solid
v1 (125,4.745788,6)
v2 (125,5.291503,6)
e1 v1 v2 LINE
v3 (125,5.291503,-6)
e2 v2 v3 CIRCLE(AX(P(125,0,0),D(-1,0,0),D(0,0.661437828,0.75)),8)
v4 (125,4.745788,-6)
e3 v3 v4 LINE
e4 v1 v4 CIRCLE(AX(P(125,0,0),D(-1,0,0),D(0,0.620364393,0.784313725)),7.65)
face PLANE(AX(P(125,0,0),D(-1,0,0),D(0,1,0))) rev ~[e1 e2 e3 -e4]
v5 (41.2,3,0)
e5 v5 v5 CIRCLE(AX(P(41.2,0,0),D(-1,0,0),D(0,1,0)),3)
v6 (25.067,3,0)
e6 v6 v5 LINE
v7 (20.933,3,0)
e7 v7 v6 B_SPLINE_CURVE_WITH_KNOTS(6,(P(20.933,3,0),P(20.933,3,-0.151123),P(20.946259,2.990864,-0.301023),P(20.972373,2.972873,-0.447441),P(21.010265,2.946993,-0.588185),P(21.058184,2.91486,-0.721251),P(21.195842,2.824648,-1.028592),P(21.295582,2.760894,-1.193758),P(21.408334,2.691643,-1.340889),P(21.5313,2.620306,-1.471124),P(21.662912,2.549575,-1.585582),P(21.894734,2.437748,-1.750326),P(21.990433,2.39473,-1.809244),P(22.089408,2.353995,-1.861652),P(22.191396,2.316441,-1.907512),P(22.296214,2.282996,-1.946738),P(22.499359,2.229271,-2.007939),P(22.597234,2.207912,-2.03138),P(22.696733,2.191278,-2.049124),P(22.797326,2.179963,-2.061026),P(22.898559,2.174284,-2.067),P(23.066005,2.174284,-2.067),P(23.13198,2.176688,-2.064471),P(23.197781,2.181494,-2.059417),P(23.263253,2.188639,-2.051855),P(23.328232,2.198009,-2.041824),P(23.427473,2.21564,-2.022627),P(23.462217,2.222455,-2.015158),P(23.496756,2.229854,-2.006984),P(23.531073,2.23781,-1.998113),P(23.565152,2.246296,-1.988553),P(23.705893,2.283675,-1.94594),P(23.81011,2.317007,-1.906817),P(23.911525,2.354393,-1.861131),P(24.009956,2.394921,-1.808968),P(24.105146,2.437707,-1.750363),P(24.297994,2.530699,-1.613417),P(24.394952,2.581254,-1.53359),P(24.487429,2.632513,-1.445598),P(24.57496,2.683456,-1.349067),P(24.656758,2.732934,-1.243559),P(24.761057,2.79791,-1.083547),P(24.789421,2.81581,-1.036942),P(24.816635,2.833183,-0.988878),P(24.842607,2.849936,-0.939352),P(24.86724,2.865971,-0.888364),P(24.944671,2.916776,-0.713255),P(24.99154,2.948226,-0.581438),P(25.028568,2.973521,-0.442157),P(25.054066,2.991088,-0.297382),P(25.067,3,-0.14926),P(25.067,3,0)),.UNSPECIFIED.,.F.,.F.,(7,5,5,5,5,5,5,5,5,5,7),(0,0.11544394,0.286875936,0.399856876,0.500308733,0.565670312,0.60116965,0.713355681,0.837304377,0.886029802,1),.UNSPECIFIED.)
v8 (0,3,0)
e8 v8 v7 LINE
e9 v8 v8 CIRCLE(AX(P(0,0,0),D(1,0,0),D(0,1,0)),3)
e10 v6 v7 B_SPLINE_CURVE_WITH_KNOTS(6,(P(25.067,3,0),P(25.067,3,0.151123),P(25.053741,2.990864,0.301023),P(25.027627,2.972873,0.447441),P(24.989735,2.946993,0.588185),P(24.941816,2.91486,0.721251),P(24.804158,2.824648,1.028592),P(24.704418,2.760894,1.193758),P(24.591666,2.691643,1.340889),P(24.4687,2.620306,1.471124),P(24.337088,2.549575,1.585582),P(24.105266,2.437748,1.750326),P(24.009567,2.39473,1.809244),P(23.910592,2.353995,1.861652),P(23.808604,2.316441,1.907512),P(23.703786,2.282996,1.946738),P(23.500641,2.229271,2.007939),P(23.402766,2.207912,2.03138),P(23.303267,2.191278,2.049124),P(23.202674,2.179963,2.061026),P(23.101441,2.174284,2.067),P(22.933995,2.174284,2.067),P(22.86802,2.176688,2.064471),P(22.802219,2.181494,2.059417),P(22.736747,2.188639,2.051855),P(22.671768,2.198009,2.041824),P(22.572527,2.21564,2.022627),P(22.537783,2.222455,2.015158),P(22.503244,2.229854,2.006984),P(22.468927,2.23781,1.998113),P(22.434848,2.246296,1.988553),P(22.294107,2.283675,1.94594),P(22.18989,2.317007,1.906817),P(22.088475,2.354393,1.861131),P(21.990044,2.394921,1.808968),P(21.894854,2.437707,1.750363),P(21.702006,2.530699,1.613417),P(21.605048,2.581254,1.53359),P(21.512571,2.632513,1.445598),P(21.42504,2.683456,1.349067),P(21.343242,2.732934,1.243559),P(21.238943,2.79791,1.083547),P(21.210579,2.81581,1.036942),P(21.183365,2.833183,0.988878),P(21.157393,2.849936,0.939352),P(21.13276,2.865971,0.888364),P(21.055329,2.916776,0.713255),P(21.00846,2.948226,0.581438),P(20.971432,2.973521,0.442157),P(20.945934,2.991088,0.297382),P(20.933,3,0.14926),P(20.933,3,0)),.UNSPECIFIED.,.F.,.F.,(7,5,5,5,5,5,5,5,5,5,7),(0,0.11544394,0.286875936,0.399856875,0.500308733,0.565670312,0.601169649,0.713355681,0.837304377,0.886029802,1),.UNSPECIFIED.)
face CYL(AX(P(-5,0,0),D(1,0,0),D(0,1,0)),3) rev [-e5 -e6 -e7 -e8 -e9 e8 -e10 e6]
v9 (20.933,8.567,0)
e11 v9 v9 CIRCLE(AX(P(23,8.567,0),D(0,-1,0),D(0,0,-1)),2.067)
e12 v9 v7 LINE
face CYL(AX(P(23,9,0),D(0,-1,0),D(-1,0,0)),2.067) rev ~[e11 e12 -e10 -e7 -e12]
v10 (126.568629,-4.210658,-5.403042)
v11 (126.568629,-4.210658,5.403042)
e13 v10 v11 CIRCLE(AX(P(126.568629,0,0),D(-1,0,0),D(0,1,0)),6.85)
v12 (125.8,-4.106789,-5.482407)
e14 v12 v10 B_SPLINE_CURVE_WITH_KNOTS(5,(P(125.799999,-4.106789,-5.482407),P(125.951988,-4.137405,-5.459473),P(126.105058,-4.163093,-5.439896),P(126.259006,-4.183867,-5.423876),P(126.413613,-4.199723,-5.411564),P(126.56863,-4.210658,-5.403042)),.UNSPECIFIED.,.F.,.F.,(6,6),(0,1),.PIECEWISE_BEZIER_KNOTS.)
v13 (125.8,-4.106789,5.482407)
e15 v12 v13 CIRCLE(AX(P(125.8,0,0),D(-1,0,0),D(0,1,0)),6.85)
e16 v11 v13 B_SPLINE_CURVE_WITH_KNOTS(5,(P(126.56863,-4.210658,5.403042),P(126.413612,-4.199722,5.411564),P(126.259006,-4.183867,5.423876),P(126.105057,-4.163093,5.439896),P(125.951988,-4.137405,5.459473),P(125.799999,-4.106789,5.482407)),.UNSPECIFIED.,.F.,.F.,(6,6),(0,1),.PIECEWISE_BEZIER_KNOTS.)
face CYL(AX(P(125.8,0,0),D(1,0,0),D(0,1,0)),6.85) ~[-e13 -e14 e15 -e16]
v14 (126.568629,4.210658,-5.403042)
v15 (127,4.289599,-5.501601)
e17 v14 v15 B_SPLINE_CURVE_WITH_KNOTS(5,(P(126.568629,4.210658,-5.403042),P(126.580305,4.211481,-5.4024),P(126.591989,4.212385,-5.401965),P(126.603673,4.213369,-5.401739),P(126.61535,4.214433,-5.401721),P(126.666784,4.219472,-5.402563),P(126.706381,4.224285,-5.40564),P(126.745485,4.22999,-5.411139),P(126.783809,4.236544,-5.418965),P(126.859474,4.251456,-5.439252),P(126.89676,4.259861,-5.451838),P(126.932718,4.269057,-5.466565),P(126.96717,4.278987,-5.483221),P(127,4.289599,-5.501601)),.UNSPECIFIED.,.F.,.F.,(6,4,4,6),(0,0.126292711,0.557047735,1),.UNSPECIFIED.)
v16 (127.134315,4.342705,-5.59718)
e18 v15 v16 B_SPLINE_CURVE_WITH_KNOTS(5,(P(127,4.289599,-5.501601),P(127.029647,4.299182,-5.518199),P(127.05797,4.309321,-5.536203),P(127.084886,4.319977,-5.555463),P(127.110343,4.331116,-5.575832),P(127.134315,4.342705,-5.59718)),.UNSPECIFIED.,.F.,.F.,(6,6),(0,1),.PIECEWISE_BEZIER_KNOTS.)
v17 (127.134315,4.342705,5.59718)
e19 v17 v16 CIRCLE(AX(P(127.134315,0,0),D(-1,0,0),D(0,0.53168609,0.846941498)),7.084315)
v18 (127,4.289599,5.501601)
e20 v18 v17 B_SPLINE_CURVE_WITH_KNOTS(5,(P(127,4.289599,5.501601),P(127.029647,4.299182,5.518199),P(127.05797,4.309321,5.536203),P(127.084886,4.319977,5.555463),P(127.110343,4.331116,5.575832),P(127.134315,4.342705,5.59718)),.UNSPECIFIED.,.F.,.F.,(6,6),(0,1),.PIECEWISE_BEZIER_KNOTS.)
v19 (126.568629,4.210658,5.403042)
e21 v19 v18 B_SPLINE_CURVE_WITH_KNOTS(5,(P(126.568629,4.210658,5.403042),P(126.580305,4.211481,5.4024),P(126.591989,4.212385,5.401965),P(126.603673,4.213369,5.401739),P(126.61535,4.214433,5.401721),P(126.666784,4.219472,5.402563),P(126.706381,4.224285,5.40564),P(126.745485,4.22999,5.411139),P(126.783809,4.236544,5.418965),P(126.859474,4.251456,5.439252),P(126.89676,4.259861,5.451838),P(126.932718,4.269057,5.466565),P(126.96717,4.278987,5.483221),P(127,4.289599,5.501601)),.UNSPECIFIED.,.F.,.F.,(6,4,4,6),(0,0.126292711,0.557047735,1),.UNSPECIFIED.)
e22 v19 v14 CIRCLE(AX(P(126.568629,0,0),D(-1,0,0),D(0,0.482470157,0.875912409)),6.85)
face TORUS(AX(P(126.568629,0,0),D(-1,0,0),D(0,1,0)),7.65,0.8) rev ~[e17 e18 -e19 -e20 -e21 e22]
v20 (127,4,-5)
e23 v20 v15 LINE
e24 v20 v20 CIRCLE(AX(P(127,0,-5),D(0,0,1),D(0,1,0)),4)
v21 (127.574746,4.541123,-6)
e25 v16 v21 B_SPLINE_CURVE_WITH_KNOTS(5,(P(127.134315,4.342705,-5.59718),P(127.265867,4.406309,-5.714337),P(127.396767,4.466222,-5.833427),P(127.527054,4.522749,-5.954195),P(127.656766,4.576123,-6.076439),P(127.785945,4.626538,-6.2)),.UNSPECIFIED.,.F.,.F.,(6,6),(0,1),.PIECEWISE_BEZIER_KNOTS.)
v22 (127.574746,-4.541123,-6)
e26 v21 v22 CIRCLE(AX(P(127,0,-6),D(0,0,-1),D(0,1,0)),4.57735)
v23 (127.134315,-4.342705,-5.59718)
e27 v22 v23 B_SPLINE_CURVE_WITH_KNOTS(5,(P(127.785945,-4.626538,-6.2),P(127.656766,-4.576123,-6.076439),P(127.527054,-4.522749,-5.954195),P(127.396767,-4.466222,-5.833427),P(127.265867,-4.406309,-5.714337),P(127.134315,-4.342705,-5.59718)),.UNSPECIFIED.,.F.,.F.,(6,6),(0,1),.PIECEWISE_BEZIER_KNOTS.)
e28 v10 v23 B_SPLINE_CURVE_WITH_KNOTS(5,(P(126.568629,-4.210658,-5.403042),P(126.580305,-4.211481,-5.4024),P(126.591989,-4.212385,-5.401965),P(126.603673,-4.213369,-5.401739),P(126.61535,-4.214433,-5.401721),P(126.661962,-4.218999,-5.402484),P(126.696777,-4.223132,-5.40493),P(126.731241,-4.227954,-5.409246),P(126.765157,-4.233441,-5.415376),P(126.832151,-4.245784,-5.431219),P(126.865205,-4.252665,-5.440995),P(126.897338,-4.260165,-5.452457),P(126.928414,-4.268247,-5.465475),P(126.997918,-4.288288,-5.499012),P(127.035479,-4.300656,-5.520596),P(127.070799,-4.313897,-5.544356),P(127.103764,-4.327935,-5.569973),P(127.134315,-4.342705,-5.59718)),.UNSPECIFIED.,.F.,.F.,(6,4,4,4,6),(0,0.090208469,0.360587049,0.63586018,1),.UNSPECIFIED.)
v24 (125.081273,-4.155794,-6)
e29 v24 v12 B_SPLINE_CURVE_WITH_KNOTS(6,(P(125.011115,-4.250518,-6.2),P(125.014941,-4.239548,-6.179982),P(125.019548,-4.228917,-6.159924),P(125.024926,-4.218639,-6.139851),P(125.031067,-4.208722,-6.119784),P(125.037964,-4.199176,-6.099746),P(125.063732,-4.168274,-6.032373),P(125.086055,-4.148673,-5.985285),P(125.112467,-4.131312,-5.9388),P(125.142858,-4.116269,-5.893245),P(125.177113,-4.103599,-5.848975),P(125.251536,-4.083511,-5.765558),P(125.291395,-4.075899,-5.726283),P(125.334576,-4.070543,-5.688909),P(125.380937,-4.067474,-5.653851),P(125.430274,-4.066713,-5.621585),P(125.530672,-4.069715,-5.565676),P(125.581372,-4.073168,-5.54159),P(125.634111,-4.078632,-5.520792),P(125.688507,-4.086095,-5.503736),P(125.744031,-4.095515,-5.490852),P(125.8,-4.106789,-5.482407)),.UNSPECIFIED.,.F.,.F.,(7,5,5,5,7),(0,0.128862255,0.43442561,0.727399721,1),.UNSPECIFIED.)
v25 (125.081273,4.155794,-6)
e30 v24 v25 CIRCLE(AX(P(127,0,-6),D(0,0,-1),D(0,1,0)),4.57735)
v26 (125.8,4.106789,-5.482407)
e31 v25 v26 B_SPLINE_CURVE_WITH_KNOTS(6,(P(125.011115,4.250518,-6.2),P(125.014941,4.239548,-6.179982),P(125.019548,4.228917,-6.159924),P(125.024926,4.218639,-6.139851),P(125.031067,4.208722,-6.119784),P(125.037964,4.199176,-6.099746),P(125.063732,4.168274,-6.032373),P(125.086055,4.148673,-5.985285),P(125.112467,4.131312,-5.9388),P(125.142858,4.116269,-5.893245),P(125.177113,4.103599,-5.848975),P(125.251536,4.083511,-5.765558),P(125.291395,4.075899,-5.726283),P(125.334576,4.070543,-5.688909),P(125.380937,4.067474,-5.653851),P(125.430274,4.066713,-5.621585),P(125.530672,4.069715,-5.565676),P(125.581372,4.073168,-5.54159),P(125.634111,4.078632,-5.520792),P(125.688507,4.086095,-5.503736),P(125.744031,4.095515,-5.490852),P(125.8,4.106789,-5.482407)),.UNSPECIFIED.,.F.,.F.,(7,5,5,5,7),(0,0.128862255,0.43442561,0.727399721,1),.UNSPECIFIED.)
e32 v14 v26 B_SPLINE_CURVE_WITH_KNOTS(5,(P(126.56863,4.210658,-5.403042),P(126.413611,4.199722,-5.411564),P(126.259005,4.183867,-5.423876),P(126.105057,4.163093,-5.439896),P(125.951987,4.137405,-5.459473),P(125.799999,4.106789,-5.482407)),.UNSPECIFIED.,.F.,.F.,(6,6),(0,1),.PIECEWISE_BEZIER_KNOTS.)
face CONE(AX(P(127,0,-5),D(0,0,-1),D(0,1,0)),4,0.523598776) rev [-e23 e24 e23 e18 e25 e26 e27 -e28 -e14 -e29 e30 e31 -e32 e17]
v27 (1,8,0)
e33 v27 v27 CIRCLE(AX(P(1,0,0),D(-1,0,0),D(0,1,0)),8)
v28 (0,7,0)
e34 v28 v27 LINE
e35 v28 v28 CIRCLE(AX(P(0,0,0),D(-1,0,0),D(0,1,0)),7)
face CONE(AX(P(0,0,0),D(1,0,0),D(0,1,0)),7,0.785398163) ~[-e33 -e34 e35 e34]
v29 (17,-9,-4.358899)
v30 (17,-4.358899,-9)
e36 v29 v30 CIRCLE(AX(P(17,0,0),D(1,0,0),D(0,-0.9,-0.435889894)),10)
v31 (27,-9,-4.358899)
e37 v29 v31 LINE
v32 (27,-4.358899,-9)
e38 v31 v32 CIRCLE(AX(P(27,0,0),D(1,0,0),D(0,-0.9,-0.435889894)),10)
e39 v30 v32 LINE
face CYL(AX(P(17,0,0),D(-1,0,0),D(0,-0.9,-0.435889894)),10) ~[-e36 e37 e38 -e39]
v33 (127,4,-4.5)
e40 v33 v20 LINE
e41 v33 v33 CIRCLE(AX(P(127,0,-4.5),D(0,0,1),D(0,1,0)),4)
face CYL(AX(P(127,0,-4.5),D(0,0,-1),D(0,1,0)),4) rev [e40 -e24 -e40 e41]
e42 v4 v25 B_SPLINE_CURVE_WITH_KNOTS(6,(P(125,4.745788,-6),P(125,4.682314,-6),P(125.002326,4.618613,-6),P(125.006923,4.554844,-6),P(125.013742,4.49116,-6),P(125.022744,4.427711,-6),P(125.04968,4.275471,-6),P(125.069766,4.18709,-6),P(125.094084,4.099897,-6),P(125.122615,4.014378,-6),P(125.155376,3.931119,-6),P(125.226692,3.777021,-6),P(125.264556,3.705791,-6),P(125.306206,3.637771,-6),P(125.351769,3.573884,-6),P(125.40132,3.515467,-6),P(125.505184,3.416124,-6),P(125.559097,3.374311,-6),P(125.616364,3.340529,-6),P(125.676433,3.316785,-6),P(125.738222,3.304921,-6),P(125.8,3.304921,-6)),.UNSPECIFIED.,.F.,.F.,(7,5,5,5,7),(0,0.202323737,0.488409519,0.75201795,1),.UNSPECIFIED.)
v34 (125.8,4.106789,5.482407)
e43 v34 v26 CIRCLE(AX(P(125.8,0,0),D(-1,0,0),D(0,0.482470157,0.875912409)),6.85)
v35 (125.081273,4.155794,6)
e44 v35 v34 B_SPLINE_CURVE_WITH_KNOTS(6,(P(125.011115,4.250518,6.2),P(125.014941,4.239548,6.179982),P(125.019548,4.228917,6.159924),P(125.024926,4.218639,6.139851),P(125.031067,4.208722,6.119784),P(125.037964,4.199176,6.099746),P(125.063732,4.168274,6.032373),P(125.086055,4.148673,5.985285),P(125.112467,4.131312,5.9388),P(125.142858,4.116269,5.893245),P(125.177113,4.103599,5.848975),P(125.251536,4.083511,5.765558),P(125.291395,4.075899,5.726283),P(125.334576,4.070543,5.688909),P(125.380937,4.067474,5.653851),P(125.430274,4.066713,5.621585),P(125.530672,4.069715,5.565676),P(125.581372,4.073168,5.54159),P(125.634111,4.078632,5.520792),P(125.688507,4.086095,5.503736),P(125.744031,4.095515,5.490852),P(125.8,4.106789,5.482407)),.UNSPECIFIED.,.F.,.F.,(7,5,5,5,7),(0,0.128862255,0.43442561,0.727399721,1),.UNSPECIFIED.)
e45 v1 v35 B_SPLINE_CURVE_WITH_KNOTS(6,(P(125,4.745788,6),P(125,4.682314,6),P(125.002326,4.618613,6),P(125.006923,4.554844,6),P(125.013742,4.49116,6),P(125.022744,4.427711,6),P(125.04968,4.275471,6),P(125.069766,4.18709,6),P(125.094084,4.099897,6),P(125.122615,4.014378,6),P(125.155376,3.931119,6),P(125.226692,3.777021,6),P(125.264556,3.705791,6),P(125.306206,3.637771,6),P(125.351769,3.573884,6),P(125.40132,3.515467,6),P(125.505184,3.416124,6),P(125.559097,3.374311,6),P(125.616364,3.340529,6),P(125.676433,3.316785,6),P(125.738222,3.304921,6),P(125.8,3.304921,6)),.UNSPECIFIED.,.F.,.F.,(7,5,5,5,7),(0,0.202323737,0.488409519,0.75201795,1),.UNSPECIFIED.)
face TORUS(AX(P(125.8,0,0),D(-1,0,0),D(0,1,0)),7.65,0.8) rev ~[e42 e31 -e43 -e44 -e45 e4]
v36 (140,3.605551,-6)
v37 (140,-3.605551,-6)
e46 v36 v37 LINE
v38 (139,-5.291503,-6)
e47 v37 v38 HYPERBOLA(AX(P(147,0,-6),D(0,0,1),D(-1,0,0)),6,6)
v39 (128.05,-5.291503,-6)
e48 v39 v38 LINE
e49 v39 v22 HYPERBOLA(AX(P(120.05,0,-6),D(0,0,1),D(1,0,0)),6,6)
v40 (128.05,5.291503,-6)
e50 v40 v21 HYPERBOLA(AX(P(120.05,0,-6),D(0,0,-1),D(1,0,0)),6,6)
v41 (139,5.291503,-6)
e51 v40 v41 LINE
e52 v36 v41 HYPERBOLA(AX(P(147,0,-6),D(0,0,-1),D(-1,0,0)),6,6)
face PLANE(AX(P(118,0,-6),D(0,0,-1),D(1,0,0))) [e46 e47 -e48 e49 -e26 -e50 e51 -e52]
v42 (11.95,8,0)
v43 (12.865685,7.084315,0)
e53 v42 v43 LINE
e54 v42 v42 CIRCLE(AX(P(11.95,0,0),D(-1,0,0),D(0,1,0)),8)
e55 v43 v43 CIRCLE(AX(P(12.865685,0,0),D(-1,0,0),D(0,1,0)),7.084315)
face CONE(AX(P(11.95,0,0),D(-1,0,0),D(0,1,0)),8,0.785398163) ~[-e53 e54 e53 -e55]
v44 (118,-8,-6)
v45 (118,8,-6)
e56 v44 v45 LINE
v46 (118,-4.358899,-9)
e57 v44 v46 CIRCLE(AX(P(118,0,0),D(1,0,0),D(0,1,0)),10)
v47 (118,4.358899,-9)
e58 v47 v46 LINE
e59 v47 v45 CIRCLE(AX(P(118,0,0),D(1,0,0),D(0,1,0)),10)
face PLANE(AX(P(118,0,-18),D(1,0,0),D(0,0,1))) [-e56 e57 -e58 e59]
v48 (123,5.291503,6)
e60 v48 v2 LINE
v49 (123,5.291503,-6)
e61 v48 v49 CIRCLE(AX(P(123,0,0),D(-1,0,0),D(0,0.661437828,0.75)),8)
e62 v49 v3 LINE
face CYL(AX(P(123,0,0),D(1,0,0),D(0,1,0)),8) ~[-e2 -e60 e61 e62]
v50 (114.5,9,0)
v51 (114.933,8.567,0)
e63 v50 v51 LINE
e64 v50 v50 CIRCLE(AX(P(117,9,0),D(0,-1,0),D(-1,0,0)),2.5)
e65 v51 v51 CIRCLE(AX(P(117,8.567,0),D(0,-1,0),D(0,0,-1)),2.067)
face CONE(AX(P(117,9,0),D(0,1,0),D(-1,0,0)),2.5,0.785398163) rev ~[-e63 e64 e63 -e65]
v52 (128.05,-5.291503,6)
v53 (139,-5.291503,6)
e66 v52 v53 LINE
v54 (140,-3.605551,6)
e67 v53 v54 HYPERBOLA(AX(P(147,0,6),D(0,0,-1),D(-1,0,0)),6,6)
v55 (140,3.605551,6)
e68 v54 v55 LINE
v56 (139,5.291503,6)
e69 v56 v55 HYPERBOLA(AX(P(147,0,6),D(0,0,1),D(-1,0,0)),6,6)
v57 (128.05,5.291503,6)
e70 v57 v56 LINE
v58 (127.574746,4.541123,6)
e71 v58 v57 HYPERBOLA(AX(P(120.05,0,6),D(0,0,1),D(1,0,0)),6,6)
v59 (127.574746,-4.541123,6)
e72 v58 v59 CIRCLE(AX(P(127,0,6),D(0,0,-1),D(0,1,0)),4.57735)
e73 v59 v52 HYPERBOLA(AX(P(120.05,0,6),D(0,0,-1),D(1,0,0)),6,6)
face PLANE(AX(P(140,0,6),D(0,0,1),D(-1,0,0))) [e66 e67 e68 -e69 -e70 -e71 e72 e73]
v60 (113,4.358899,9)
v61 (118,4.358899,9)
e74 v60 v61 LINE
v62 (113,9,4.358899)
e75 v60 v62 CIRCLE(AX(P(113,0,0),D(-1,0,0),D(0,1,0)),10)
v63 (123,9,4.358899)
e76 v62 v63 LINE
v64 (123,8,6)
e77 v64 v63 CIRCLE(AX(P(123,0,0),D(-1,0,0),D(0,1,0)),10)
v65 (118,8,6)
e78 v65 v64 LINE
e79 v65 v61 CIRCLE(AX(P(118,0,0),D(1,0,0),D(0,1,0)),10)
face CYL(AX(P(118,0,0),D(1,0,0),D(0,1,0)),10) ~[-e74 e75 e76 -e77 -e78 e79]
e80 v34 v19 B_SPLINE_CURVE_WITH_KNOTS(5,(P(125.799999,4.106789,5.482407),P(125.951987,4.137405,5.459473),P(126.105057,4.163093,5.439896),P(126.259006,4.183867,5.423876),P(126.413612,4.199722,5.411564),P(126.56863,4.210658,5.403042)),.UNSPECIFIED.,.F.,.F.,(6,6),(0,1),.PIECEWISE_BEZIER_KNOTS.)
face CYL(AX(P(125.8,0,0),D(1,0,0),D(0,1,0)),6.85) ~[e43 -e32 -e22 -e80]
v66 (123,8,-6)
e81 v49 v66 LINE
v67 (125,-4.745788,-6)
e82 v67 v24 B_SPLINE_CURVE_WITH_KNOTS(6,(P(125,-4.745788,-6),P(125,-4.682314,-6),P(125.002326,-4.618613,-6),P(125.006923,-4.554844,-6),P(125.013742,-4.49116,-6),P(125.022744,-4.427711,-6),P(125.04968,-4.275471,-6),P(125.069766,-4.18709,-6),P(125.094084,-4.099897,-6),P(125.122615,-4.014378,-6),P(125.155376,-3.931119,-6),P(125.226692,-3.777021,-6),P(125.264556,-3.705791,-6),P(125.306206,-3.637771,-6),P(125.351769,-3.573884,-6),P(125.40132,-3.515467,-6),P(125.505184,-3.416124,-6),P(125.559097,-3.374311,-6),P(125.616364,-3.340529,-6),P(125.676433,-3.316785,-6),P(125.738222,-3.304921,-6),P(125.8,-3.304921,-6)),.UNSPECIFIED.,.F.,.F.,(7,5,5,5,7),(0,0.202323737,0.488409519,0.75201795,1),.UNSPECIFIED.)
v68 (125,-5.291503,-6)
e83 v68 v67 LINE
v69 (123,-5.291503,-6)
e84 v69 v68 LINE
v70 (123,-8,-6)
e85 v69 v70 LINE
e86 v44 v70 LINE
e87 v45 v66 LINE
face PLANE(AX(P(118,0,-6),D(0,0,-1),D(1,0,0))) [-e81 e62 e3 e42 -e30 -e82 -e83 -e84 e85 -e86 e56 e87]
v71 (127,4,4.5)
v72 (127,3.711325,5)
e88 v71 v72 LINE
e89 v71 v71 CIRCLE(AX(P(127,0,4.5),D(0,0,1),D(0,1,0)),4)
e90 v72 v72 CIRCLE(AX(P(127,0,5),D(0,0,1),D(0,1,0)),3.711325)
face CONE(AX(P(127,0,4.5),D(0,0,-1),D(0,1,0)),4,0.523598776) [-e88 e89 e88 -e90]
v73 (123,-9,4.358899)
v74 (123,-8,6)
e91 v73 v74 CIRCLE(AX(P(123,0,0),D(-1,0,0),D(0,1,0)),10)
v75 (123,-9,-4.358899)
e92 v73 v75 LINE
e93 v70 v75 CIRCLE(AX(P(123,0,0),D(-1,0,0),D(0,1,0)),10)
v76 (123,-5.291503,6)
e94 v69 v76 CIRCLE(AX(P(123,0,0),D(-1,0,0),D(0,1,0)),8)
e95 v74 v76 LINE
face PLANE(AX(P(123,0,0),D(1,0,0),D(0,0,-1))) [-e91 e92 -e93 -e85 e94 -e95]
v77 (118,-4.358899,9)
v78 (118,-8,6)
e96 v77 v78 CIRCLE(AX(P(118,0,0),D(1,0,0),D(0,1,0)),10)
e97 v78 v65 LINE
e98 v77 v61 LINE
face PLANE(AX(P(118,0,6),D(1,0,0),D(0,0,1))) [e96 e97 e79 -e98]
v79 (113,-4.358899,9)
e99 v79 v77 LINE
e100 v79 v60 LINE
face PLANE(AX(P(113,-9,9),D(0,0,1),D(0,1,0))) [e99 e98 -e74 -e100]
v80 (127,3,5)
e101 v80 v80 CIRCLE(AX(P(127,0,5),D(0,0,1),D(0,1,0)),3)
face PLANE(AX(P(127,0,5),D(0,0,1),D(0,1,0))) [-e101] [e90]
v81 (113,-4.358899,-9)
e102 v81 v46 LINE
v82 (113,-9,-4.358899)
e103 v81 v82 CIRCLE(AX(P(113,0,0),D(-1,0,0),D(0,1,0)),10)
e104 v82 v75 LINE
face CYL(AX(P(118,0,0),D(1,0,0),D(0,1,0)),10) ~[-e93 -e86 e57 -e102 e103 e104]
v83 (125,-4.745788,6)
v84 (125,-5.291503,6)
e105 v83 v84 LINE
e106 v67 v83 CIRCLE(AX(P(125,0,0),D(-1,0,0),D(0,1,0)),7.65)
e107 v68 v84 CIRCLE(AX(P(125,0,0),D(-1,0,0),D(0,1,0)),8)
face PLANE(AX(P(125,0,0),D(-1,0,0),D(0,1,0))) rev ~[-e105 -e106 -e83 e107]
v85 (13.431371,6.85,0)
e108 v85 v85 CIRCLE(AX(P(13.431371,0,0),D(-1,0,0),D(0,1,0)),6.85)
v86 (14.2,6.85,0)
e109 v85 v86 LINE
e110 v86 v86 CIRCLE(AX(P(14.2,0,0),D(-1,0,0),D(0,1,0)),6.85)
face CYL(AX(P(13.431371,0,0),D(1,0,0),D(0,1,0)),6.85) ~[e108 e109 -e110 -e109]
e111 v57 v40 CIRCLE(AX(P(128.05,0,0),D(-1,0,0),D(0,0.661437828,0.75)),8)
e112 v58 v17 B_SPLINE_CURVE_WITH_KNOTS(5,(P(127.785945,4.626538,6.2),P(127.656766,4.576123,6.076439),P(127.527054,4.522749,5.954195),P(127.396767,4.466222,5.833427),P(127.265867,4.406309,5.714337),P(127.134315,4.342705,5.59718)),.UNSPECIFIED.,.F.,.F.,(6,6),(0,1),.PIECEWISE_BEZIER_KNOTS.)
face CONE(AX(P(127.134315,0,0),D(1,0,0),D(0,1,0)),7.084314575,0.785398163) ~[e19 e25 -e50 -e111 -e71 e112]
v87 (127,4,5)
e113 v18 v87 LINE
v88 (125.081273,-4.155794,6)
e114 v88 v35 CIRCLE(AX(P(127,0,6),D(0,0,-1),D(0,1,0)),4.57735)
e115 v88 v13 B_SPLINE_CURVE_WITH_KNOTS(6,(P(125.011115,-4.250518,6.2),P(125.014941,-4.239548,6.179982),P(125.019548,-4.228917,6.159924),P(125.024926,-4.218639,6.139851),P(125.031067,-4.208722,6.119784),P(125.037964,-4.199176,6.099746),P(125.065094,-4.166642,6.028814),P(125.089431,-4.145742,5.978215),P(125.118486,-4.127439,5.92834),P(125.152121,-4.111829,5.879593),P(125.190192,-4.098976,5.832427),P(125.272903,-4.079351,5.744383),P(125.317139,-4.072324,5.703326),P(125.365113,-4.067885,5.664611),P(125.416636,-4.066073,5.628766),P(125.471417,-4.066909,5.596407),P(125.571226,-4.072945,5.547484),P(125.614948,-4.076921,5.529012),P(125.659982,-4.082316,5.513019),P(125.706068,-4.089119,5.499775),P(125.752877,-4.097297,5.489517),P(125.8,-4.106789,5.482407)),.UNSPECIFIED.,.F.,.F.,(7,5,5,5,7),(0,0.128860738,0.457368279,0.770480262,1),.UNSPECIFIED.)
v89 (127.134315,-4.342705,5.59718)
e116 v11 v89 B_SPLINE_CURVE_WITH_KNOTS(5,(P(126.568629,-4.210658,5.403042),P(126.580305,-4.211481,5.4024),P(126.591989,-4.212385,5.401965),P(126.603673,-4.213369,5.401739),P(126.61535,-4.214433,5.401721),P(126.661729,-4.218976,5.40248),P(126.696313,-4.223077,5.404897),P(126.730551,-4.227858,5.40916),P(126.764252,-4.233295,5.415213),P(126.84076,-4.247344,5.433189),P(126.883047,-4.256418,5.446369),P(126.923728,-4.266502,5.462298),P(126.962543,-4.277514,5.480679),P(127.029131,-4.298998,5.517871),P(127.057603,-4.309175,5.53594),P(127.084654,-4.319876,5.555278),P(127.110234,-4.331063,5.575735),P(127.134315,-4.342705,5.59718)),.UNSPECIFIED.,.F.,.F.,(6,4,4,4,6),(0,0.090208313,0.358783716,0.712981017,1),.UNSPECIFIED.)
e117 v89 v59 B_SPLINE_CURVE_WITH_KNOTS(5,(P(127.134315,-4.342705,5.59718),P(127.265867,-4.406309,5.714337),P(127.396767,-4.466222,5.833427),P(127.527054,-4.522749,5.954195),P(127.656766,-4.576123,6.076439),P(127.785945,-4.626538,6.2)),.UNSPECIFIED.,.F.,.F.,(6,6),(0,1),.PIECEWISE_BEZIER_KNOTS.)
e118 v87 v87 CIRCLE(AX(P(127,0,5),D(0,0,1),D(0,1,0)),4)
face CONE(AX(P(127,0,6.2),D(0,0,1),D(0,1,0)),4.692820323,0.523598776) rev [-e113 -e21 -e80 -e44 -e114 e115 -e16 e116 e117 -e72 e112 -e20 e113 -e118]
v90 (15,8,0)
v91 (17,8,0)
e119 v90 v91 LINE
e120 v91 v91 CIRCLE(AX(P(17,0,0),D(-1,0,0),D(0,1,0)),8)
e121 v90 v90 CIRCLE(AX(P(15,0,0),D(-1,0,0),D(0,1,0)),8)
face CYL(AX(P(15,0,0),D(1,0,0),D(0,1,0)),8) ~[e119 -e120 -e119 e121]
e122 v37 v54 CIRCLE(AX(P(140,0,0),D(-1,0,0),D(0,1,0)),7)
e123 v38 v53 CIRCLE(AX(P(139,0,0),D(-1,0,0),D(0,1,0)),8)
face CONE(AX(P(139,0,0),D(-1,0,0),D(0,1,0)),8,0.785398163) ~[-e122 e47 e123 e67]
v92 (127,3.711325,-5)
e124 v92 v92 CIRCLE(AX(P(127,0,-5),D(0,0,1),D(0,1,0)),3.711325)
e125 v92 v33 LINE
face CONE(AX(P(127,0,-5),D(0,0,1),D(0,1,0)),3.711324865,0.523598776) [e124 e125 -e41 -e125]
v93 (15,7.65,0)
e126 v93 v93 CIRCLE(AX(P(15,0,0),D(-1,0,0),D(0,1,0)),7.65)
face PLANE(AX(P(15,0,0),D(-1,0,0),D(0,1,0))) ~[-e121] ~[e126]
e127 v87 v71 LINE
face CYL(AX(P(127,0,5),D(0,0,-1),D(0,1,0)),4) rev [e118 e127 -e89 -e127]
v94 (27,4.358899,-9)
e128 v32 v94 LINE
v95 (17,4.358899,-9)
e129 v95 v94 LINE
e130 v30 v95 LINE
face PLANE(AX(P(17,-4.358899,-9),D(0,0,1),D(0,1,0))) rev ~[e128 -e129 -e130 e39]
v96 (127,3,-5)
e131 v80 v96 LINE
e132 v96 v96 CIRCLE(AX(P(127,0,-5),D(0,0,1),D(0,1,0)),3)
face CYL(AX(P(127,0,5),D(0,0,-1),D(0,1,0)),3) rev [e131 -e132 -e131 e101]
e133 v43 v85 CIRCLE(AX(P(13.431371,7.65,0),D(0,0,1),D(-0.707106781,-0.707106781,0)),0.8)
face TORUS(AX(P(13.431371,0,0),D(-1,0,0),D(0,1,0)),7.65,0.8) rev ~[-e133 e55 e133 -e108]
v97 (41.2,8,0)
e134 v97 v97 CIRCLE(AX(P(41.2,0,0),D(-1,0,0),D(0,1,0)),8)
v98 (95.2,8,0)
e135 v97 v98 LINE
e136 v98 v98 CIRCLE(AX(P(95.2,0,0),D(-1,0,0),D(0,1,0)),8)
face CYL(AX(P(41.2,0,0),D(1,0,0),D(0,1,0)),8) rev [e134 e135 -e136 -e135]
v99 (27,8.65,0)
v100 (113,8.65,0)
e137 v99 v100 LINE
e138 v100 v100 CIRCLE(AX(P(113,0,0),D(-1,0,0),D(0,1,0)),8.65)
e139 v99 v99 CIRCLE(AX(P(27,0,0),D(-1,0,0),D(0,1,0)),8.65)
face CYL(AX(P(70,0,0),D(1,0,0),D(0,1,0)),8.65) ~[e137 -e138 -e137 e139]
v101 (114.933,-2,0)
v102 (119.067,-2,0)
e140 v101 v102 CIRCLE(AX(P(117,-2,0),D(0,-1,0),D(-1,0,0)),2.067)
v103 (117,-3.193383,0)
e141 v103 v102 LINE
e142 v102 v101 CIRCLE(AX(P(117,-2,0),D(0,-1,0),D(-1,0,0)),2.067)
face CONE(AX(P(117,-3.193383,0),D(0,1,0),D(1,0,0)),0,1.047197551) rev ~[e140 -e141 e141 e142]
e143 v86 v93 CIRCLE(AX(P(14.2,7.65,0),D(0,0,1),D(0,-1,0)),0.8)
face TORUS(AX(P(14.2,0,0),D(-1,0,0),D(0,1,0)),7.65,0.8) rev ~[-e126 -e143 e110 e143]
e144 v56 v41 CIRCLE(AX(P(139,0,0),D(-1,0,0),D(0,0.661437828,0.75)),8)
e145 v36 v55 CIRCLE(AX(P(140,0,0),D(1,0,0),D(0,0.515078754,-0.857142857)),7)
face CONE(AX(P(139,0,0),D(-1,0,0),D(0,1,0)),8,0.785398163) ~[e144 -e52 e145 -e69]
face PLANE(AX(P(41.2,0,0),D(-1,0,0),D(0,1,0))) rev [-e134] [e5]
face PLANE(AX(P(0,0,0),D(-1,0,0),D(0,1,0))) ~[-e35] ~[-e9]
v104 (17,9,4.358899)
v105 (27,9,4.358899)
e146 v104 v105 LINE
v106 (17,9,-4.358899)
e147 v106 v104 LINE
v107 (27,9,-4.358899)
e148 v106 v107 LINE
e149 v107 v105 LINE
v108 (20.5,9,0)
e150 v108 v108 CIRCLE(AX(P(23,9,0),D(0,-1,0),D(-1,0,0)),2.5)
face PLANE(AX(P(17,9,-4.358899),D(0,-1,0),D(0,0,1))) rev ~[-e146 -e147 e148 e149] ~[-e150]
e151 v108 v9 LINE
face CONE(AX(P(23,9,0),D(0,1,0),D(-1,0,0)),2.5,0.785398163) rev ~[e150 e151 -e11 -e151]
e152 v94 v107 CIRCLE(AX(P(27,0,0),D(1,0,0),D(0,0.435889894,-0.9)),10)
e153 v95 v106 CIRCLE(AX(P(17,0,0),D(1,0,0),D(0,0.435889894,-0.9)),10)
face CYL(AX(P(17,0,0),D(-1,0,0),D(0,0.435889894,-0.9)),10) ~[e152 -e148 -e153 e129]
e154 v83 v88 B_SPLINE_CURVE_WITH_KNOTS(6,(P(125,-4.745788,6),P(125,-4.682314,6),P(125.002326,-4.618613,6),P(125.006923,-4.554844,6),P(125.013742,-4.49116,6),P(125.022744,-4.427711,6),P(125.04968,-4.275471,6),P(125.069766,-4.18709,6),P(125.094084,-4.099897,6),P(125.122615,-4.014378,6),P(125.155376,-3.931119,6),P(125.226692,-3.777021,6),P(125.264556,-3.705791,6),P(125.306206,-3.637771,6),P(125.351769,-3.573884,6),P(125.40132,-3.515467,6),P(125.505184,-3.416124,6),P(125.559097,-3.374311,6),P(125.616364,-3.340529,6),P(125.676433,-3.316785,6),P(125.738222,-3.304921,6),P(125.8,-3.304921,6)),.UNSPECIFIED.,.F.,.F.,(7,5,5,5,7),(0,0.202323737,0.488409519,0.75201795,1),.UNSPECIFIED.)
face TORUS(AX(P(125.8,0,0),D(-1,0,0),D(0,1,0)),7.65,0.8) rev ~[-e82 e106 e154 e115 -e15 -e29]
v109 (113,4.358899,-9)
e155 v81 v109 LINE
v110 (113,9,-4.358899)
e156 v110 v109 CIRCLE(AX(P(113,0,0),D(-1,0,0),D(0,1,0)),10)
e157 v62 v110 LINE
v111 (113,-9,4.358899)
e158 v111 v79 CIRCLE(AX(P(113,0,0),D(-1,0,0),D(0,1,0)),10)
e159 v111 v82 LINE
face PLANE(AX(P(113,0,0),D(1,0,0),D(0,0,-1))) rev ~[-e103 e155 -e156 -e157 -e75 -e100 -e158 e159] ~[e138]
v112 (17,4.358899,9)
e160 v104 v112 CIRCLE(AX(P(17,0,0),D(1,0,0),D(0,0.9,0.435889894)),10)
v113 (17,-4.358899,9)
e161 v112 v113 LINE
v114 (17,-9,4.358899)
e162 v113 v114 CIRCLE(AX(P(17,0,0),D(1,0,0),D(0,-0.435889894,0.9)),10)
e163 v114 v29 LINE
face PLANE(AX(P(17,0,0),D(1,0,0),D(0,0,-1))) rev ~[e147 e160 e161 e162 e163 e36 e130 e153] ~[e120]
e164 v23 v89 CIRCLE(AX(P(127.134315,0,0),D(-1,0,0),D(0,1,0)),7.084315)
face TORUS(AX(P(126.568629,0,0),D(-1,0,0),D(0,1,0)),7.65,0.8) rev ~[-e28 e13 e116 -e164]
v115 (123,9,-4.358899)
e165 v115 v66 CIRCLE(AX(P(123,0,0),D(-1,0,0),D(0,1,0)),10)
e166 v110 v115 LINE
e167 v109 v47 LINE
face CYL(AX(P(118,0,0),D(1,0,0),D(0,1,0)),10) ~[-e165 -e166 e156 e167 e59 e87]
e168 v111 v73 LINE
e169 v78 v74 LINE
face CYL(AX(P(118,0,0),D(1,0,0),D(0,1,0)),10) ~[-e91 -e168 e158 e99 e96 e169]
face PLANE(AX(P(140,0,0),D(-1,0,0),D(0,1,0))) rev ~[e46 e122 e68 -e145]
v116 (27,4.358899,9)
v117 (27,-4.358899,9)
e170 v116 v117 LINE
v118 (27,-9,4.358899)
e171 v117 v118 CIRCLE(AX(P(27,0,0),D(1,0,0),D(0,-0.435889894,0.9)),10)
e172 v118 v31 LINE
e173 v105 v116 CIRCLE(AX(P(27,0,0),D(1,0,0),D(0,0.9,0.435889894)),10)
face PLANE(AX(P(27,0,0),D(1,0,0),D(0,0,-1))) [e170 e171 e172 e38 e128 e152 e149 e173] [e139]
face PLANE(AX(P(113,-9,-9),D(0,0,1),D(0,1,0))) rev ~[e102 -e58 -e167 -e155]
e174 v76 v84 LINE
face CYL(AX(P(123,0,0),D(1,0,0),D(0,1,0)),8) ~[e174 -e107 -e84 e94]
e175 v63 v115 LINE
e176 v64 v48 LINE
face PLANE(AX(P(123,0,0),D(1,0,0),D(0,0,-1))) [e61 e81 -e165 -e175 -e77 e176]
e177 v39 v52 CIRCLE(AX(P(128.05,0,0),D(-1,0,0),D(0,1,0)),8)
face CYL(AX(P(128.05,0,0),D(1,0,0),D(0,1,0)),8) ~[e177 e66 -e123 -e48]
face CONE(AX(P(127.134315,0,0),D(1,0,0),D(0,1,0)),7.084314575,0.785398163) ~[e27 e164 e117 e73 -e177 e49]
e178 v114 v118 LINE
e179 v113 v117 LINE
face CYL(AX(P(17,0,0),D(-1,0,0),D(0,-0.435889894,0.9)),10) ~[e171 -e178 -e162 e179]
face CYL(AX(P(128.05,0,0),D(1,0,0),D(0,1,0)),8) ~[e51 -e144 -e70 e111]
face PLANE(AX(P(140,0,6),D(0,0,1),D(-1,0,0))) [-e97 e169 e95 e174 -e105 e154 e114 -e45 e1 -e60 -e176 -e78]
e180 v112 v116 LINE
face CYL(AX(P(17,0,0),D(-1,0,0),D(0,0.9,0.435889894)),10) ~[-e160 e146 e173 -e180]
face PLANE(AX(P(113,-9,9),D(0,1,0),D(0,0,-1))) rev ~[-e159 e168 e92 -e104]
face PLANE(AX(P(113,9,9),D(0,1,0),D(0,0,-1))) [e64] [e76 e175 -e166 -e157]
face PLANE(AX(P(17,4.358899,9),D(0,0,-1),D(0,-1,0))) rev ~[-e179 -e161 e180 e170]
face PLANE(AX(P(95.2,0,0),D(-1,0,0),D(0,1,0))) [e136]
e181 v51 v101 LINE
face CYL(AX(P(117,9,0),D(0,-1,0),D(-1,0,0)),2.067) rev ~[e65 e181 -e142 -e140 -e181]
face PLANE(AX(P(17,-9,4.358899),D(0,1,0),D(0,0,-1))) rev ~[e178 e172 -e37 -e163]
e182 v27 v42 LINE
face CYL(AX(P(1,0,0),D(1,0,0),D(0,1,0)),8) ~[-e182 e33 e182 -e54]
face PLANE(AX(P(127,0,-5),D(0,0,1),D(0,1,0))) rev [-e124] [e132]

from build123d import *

# Parameters (mm, degrees)
BOSS_EXTRUDE1_DEPTH     = 10
SKETCH3_W               = 86
SKETCH3_H               = 8.65
SKETCH4_W               = 18
SKETCH4_H               = 18
BOSS_EXTRUDE2_DEPTH     = 10
SKETCH5_W               = 10
SKETCH5_H               = 10
CUT_EXTRUDE1_DEPTH      = 10
CUT_EXTRUDE1_DEPTH_BACK = 10
HOLE1_D                 = 4.134
HOLE1_DEPTH             = 9
HOLE1_CSINK_D           = 5
HOLE1_CSINK_ANGLE       = 90
HOLE2_D                 = 4.134
HOLE2_DEPTH             = 11
HOLE2_CSINK_D           = 5
HOLE2_CSINK_ANGLE       = 90
HOLE2_TIP               = 1.193383006


with BuildPart() as part:
    # Sketch1 → Revolve1 (revolve)
    with BuildSketch(Plane.XY):
        with BuildLine():
            Line((0, 0), (0, 7))
            Line((0, 7), (1, 8))
            Line((1, 8), (11.95, 8))
            Line((11.95, 8), (12.865685425, 7.084314575))
            ThreePointArc((12.865685425, 7.084314575), (13.125224104, 6.910896374), (13.43137085, 6.85))
            Line((13.43137085, 6.85), (14.2, 6.85))
            ThreePointArc((14.2, 6.85), (14.765685425, 7.084314575), (15, 7.65))
            Line((15, 7.65), (15, 8))
            Line((15, 8), (17, 8))
            Line((17, 8), (17, 0))
            Line((17, 0), (0, 0))
        make_face()
    revolve(axis=Axis((17, 0, 0), (-1, 0, 0)))

    # Sketch2 → Boss-Extrude1 (add)
    with BuildSketch(Plane(origin=(17, 0, 0), x_dir=(0, 0, -1), z_dir=(1, 0, 0))):
        with BuildLine():
            Line((-4.358898944, -9), (4.358898944, -9))
            ThreePointArc((4.358898944, -9), (7.071067812, -7.071067812), (9, -4.358898944))
            Line((9, -4.358898944), (9, 4.358898944))
            ThreePointArc((9, 4.358898944), (7.071067812, 7.071067812), (4.358898944, 9))
            Line((4.358898944, 9), (-4.358898944, 9))
            ThreePointArc((-4.358898944, 9), (-7.071067812, 7.071067812), (-9, 4.358898944))
            Line((-9, 4.358898944), (-9, -4.358898944))
            ThreePointArc((-9, -4.358898944), (-7.071067812, -7.071067812), (-4.358898944, -9))
        make_face()
    extrude(amount=BOSS_EXTRUDE1_DEPTH)

    # Sketch3 → Revolve2 (revolve)
    with BuildSketch(Plane.XY):
        with Locations((70, 4.325)):
            Rectangle(SKETCH3_W, SKETCH3_H)
    revolve(axis=Axis((113, 0, 0), (-1, 0, 0)))

    # Sketch4 → Boss-Extrude2 (add)
    with BuildSketch(Plane(origin=(113, 0, 0), x_dir=(0, 0, -1), z_dir=(1, 0, 0))):
        Rectangle(SKETCH4_W, SKETCH4_H)
    extrude(amount=BOSS_EXTRUDE2_DEPTH)

    # Sketch5 → Cut-Revolve1 (revolve, cut)
    with BuildSketch(Plane.XY):
        with Locations((118, 15)):
            Rectangle(SKETCH5_W, SKETCH5_H)
    revolve(axis=Axis((123, 0, 0), (-1, 0, 0)), mode=Mode.SUBTRACT)

    # Sketch6 → Revolve3 (revolve)
    with BuildSketch(Plane.XY):
        with BuildLine():
            Line((123, 0), (123, 8))
            Line((123, 8), (125, 8))
            Line((125, 8), (125, 7.65))
            ThreePointArc((125, 7.65), (125.234314575, 7.084314575), (125.8, 6.85))
            Line((125.8, 6.85), (126.56862915, 6.85))
            ThreePointArc((126.56862915, 6.85), (126.874775896, 6.910896374), (127.134314575, 7.084314575))
            Line((127.134314575, 7.084314575), (128.05, 8))
            Line((128.05, 8), (139, 8))
            Line((139, 8), (140, 7))
            Line((140, 7), (140, 0))
            Line((140, 0), (123, 0))
        make_face()
    revolve(axis=Axis((140, 0, 0), (-1, 0, 0)))

    # Sketch7 → Cut-Extrude1 (cut, two sides: drawn at the far end of the back side and taken through both)
    with BuildSketch(Plane(origin=(0, 0, 0), x_dir=(1, 0, 0), z_dir=(0, 1, 0)).offset(-CUT_EXTRUDE1_DEPTH_BACK)):
        Polygon((118, 18), (118, 6), (140, 6), (140, -6), (118, -6), (118, -18), (152, -18), (152, 18), align=None)
    extrude(amount=CUT_EXTRUDE1_DEPTH + CUT_EXTRUDE1_DEPTH_BACK, mode=Mode.SUBTRACT)

    # Sketch8 → Cut-Revolve2 (revolve, cut)
    with BuildSketch(Plane(origin=(127, 0, 0), x_dir=(0, 0, -1), z_dir=(1, 0, 0))):
        Polygon((-6.2, 0), (-6.2, 4.692820323), (-5, 4), (-4.5, 4), (-5, 3.711324865), (-5, 3), (5, 3), (5, 3.711324865), (4.5, 4), (5, 4), (6.2, 4.692820323), (6.2, 0), align=None)
    revolve(axis=Axis((127, 0, -5), (0, 0, 1)), mode=Mode.SUBTRACT)

    # Hole1
    with Locations(Plane(origin=(0, 9, 0), x_dir=(1, 0, 0), z_dir=(0, 1, 0))):
        with Locations((23, 0)):
            CounterSinkHole(HOLE1_D / 2, HOLE1_CSINK_D / 2, depth=HOLE1_DEPTH, counter_sink_angle=HOLE1_CSINK_ANGLE)

    # Hole2
    with Locations(Plane(origin=(0, 9, 0), x_dir=(1, 0, 0), z_dir=(0, 1, 0))):
        with Locations((117, 0)):
            CounterSinkHole(HOLE2_D / 2, HOLE2_CSINK_D / 2, depth=HOLE2_DEPTH, counter_sink_angle=HOLE2_CSINK_ANGLE)
            with Locations((0, 0, -(HOLE2_DEPTH + HOLE2_TIP / 2))):  # 120° drill point
                Cone(0, HOLE2_D / 2, HOLE2_TIP, mode=Mode.SUBTRACT)

    # Sketch13 → Cut-Revolve3 (revolve, cut)
    with BuildSketch(Plane.XY):
        Polygon((-5, 0), (-5, 3), (41.2, 3), (41.2, 8), (95.2, 8), (95.2, 0), align=None)
    revolve(axis=Axis((95.2, 0, 0), (-1, 0, 0)), mode=Mode.SUBTRACT)


solid = part.part
